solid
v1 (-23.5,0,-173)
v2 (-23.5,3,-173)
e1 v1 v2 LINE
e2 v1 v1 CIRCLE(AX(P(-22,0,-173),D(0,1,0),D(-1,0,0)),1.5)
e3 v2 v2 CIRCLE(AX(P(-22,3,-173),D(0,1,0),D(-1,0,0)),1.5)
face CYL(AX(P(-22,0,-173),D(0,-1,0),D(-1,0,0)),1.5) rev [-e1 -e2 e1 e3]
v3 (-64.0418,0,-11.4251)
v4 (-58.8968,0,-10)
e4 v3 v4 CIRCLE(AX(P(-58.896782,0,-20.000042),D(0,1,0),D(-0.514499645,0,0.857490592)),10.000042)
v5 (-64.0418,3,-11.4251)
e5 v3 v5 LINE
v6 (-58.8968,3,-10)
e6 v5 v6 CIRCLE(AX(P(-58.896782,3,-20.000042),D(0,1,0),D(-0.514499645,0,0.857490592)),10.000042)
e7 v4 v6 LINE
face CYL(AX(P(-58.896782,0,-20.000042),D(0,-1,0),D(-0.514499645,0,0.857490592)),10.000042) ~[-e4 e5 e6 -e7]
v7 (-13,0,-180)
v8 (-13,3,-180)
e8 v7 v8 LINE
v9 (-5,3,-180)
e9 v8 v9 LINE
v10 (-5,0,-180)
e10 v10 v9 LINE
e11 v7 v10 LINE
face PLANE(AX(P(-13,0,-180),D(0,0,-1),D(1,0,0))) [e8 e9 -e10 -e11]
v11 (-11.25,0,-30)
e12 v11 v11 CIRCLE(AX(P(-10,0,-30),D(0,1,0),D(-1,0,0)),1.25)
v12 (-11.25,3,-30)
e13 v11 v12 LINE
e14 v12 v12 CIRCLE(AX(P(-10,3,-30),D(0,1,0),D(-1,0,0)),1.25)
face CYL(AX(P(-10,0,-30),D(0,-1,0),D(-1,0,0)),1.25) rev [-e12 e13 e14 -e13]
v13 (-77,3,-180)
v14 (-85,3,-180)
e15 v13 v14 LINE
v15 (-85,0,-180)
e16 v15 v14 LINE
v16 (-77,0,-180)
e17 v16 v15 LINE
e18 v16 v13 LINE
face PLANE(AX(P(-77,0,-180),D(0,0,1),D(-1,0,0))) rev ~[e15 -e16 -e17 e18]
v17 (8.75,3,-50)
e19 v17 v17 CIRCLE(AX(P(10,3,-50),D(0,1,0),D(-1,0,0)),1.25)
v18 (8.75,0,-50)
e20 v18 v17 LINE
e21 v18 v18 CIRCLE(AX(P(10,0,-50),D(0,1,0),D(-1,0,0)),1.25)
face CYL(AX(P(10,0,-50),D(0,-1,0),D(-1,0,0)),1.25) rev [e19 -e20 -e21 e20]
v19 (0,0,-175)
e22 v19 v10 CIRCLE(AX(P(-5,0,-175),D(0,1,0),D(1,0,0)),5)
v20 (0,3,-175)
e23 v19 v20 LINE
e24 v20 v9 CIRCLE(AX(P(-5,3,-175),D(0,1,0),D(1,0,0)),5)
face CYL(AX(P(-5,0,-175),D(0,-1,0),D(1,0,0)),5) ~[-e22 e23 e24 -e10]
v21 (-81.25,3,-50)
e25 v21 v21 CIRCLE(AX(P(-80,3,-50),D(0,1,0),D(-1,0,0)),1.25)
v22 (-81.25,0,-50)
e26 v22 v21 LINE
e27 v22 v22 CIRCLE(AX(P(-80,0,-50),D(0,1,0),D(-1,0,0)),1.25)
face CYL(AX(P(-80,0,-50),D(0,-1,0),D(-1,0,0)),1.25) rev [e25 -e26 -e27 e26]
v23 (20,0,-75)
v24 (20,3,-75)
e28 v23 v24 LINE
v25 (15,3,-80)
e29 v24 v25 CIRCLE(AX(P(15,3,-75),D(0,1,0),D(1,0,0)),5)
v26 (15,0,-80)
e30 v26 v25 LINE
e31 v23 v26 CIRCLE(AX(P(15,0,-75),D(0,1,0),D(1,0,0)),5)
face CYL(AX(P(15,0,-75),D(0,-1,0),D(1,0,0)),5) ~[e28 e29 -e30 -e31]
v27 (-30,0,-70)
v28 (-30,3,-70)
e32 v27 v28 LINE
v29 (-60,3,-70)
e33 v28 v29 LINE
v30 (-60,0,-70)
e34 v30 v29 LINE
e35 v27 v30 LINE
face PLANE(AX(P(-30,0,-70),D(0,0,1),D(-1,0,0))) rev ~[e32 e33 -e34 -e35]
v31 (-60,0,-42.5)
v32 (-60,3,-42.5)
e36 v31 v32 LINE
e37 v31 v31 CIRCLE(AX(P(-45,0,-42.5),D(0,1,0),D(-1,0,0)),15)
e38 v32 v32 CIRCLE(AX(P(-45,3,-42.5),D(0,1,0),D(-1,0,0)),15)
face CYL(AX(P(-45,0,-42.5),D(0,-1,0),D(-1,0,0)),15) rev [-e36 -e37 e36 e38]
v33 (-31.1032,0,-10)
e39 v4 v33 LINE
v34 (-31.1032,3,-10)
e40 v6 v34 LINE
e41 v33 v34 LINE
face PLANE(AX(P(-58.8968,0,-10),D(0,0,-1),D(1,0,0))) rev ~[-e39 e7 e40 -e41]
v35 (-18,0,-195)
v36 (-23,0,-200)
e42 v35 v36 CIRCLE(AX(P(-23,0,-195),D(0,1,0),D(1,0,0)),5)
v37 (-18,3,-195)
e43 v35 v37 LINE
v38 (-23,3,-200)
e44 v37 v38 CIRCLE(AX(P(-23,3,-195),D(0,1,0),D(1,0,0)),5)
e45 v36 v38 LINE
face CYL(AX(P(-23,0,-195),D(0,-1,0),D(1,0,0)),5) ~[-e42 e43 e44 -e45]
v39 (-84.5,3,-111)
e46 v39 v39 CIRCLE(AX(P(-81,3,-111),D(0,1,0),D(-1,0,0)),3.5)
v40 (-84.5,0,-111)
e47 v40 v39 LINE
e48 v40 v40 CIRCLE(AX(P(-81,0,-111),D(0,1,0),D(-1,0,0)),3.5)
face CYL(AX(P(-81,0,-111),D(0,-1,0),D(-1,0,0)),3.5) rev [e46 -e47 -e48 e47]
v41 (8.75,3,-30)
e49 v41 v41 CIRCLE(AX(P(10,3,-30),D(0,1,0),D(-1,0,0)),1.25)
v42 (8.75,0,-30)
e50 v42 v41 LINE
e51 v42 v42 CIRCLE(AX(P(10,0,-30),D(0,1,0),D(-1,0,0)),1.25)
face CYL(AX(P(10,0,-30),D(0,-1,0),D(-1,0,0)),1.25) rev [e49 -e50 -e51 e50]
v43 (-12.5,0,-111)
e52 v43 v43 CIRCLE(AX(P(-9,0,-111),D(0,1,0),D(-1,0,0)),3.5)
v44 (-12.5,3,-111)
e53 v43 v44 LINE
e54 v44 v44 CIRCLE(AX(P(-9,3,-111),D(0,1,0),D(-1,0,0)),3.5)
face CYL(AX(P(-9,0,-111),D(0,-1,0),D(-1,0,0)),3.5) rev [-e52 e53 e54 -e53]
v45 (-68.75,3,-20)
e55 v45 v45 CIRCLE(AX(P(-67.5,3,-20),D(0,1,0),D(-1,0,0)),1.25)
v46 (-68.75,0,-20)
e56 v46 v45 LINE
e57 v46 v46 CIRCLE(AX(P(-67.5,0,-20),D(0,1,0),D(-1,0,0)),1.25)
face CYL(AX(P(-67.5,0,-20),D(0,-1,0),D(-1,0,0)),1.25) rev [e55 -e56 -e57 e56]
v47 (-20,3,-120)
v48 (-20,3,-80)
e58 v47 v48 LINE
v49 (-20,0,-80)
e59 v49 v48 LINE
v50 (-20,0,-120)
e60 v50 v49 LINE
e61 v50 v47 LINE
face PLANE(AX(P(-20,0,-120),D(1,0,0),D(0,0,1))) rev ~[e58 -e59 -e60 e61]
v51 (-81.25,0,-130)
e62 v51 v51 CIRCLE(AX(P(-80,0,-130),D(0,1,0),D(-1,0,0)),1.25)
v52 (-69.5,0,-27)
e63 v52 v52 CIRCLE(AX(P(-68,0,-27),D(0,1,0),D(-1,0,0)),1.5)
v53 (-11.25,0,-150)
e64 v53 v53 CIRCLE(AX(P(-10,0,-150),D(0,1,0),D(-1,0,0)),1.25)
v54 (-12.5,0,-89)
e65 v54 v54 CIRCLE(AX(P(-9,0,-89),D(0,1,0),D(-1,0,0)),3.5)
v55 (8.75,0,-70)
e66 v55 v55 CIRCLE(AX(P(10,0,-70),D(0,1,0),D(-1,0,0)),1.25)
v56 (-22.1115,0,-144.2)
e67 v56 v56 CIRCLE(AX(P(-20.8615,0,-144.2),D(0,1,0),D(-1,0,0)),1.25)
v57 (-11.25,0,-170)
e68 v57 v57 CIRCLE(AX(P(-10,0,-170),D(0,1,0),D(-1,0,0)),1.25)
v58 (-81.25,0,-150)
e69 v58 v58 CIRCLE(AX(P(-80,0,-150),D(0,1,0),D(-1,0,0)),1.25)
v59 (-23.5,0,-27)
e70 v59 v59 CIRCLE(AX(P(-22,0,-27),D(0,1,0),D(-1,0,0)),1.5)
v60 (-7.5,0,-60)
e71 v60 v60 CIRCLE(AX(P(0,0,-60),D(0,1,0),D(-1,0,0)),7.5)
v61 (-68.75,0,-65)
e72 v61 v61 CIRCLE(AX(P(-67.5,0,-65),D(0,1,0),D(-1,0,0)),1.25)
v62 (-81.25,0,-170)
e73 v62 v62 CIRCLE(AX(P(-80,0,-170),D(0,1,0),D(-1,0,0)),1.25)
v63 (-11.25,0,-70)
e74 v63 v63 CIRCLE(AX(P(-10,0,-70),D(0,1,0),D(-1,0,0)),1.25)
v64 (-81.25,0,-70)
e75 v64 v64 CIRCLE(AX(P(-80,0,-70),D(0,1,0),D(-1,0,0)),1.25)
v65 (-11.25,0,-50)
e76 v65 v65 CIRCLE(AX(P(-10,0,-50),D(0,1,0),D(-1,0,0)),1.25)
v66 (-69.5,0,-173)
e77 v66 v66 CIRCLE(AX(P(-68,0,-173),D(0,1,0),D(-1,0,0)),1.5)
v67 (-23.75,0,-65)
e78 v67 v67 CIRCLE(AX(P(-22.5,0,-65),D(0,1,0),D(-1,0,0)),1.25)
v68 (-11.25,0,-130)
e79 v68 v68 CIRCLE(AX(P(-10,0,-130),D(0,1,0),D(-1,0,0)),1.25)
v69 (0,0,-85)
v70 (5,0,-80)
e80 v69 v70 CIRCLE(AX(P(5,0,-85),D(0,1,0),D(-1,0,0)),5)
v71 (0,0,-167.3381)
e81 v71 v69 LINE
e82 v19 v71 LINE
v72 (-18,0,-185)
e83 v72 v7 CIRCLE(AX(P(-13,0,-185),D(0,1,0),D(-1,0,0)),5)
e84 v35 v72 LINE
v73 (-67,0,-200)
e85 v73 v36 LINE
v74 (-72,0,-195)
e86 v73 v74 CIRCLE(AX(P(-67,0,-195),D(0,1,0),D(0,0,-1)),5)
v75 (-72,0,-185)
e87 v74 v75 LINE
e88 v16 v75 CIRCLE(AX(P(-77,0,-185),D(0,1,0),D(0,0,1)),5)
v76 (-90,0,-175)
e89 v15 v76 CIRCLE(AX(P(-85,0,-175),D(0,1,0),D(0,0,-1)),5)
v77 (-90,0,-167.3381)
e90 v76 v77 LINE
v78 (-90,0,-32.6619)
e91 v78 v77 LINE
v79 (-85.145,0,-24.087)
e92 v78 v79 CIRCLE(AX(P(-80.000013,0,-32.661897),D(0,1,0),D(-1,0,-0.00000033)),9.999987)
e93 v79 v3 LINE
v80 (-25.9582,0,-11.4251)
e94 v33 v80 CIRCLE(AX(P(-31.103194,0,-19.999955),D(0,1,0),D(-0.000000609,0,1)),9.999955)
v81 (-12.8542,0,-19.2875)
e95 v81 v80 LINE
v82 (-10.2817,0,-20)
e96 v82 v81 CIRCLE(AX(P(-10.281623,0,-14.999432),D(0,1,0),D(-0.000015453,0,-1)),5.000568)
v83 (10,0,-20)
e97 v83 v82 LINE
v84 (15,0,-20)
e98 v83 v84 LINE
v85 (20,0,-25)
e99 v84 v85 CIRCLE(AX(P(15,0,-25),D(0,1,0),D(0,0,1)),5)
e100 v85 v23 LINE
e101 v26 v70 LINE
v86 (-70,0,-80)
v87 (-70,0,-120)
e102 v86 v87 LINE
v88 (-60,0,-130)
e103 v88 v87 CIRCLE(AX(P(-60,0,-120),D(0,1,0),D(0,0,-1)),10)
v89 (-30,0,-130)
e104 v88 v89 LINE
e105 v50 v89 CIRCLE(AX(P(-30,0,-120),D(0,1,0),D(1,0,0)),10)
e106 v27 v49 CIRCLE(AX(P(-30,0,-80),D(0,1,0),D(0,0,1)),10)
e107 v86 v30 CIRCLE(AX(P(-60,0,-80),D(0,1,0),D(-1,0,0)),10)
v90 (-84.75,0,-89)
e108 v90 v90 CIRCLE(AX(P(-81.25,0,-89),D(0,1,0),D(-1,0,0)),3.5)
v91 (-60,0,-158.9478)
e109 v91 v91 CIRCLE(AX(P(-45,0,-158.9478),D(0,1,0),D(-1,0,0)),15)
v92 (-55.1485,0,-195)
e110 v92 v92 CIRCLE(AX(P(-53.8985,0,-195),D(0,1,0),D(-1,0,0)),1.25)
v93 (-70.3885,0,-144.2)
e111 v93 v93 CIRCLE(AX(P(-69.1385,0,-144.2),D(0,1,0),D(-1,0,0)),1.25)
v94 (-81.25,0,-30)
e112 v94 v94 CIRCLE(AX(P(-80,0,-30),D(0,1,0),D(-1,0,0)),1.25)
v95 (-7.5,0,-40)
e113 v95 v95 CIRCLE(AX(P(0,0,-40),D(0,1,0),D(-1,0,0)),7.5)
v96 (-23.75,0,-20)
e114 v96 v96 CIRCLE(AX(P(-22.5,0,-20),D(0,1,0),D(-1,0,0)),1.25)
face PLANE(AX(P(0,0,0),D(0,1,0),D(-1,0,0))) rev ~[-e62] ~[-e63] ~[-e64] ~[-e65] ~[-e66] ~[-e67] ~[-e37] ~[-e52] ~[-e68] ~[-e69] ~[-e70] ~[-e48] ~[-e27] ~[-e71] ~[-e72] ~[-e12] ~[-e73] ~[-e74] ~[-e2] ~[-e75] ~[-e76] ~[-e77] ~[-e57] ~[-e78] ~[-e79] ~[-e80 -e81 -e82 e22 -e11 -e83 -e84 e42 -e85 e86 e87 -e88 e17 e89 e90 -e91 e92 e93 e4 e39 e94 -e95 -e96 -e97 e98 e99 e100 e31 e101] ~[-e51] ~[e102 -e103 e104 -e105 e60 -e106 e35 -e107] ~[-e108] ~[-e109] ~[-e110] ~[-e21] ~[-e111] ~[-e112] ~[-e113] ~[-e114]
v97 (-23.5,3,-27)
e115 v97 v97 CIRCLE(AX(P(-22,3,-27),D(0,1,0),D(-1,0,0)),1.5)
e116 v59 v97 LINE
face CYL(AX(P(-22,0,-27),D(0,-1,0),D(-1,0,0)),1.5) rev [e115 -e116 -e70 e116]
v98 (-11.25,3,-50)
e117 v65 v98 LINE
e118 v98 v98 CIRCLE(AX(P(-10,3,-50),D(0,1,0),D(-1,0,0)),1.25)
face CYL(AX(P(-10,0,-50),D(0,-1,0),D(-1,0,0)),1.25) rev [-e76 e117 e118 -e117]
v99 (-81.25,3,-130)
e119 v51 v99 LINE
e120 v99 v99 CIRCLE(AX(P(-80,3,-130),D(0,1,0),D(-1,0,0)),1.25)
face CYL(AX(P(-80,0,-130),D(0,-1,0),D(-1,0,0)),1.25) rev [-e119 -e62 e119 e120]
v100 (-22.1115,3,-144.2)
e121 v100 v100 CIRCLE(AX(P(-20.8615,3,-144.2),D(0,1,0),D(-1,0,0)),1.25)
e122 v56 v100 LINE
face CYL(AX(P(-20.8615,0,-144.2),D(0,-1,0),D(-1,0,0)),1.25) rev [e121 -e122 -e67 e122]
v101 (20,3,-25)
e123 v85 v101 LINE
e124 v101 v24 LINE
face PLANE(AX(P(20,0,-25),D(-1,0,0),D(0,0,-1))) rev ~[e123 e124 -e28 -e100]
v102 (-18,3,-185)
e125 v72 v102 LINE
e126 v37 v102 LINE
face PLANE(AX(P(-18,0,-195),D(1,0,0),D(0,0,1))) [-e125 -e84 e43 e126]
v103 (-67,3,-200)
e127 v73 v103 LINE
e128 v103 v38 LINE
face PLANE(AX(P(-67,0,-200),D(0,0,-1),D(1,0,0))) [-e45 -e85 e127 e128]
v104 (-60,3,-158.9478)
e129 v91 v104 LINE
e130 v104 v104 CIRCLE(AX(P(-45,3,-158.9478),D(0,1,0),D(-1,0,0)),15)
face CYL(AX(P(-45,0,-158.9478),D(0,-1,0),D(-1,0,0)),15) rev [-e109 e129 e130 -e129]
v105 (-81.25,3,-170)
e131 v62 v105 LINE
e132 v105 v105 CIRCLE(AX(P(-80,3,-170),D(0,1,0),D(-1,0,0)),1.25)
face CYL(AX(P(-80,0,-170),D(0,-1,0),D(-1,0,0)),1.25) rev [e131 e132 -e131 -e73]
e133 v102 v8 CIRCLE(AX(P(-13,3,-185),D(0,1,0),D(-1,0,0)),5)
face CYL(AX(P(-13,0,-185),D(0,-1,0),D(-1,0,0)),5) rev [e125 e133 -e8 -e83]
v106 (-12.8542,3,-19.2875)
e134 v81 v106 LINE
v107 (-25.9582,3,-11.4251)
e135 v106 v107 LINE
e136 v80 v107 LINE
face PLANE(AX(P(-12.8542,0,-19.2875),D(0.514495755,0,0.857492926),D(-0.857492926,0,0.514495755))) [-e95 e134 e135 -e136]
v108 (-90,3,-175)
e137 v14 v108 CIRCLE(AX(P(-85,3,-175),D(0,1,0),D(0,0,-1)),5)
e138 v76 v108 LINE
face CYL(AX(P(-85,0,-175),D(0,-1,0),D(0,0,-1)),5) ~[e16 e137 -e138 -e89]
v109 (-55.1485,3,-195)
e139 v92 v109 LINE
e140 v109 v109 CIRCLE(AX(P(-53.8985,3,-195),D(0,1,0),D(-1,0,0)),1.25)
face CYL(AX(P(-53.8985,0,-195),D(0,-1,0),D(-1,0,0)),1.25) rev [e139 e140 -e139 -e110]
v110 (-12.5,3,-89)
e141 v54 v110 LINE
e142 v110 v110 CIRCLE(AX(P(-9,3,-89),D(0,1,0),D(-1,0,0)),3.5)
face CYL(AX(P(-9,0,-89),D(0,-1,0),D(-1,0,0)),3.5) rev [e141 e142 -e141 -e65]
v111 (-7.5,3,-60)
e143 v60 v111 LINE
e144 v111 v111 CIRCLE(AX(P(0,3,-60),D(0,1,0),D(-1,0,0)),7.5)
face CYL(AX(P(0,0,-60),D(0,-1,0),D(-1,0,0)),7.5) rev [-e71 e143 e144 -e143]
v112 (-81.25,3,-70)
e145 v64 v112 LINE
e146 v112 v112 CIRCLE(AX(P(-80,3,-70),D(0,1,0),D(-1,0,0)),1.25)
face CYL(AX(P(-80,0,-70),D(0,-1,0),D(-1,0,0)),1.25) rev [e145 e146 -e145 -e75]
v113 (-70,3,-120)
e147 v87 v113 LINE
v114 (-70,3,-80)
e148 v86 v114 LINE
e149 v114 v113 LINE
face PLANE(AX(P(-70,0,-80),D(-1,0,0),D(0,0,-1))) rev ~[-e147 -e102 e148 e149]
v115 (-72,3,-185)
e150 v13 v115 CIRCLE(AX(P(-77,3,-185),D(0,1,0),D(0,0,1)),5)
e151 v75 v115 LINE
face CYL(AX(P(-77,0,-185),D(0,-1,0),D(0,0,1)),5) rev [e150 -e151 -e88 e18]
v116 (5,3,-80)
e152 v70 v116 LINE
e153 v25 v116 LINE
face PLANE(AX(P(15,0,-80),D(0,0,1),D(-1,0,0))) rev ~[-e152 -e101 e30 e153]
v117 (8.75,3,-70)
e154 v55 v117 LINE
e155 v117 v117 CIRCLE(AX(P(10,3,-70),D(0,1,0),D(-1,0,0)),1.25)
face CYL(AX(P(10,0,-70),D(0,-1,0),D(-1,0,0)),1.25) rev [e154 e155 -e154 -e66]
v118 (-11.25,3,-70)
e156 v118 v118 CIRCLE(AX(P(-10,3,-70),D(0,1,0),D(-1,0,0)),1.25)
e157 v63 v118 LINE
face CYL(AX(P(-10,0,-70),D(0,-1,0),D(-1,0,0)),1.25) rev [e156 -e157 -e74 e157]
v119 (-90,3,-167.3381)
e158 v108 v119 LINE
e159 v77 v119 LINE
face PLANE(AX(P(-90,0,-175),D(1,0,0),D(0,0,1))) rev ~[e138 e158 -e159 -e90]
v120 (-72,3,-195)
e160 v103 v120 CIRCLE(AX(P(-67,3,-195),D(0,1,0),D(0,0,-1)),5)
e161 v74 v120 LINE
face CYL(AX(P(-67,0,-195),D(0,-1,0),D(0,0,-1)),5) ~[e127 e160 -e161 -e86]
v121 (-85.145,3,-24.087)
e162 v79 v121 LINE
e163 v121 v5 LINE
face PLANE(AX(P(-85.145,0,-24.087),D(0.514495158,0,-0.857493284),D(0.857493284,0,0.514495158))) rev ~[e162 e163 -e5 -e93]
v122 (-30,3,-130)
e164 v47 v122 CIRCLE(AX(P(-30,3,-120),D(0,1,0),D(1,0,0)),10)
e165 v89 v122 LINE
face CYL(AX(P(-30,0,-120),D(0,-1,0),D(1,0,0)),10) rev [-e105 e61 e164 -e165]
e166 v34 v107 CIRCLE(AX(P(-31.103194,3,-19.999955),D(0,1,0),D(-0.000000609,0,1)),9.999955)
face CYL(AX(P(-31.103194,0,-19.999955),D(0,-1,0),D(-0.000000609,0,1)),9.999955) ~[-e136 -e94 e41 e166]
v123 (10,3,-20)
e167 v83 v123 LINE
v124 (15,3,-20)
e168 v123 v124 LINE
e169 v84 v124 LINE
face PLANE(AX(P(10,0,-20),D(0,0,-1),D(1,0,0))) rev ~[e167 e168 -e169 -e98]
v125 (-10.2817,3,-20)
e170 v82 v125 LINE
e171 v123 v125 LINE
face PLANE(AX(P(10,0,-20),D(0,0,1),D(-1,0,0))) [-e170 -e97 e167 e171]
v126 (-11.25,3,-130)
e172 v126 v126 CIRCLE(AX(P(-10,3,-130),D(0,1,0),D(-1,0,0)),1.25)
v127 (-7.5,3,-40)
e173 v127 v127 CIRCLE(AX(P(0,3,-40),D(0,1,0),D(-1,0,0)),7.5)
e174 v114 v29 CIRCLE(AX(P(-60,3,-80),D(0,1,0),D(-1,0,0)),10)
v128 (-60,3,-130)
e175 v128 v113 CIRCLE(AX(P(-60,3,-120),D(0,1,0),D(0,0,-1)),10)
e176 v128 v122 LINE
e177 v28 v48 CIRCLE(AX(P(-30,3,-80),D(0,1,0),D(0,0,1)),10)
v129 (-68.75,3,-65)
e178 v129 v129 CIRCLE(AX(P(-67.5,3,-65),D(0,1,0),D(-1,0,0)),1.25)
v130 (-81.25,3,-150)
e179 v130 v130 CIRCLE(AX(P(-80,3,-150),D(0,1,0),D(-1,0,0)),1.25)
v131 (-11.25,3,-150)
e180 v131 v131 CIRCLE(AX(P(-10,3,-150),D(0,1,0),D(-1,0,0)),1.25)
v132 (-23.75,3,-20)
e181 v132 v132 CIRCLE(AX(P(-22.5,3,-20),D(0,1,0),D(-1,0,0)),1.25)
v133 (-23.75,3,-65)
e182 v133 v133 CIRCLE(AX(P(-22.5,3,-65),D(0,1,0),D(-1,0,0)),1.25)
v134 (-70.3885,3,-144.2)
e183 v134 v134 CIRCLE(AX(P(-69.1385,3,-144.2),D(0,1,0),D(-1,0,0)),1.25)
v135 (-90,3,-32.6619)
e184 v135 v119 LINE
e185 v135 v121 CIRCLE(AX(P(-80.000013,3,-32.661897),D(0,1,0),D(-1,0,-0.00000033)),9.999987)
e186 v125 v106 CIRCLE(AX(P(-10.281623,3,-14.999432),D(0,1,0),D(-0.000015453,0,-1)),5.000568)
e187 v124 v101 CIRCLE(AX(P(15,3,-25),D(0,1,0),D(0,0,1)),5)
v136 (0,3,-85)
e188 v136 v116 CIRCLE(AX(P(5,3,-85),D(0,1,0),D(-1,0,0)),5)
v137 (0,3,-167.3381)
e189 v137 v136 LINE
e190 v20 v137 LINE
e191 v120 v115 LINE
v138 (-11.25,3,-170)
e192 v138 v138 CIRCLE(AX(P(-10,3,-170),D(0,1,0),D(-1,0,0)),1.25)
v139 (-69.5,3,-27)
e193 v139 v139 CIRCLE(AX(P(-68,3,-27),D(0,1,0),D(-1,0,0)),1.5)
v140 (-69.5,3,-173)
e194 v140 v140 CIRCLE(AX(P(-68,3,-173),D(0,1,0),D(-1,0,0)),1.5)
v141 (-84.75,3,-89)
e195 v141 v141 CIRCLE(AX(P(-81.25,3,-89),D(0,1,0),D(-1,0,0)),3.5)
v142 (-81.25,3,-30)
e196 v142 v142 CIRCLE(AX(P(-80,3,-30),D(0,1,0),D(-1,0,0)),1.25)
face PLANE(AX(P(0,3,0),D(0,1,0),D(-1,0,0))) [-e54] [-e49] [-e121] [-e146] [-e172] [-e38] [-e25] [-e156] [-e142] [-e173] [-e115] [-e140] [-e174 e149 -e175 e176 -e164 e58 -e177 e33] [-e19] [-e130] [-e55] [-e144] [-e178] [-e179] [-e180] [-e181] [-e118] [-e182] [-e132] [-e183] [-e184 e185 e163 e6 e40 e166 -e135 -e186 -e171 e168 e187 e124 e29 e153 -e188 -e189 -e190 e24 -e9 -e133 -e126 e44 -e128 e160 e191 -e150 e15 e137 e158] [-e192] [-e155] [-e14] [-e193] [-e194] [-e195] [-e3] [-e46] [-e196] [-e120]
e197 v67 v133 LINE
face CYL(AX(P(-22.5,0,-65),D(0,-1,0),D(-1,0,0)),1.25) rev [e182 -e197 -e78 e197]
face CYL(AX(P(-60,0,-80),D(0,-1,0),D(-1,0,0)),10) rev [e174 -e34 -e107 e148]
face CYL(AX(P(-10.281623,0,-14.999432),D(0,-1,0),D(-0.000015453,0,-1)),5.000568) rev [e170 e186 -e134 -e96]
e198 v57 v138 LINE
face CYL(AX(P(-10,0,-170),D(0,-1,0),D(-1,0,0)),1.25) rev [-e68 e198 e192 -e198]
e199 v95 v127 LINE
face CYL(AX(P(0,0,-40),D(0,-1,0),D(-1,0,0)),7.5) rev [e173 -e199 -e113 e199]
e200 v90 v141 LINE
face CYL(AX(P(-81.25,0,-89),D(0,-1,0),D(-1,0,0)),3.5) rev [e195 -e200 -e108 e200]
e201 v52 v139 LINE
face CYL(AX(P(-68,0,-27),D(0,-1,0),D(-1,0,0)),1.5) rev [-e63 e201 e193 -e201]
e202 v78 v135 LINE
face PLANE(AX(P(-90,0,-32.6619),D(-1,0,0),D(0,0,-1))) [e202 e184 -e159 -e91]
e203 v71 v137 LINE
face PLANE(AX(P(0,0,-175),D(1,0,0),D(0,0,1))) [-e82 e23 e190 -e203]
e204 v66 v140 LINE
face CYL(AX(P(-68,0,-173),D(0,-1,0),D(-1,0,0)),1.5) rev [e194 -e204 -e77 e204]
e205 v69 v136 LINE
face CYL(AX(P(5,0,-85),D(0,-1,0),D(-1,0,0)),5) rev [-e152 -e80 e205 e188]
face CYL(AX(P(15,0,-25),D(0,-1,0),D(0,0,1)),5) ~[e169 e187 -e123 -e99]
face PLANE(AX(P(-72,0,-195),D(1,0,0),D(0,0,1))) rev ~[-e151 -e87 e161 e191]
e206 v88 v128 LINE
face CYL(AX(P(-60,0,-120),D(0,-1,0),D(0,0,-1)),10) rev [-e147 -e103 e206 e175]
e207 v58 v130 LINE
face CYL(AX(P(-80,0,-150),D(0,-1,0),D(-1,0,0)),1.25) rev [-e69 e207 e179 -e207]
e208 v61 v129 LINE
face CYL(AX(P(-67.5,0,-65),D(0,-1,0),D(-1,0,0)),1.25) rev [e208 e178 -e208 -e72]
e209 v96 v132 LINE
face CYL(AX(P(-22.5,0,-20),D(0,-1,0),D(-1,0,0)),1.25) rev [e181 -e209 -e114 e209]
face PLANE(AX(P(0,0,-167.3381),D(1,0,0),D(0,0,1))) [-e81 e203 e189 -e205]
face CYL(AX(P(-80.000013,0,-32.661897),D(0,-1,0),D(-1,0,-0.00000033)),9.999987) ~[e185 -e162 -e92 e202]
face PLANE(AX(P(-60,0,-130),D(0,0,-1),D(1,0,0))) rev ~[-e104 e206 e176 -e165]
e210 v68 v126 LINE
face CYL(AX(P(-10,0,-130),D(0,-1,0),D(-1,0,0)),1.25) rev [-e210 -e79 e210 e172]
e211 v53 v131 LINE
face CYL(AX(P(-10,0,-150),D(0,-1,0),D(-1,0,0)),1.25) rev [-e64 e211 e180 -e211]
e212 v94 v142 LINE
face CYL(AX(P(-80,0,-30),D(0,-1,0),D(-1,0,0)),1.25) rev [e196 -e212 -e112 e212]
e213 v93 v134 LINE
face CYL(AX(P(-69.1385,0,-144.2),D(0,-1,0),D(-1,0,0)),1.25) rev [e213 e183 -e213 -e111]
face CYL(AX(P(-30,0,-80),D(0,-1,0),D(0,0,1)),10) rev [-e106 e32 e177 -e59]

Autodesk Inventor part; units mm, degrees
ref_plane "YZ Plane" through (0, 0, 0) normal (1, 0, 0) x (0, 1, 0)
ref_plane "XZ Plane" through (0, 0, 0) normal (0, 1, 0) x (-1, 0, 0)
ref_plane "XY Plane" through (0, 0, 0) normal (0, 0, 1) x (1, 0, 0)
sketch "Sketch1" plane through (0, 0, 0) normal (0, 1, 0) x (-1, 0, 0)
  line L0 (10, 0) -> (80, 0)
  line L1 (90, -32.6619) -> (90, -167.3381)
  line L2 (67, -200) -> (23, -200)
  line L3 (0, -167.3381) -> (0, -85)
  line L4 (22, -27) -> (68, -27) construction
  line L5 (68, -27) -> (68, -173) construction
  line L6 (68, -173) -> (22, -173) construction
  circle A0 centre (68, -27) radius 1.5
  circle A1 centre (68, -173) radius 1.5
  circle A2 centre (22, -173) radius 1.5
  circle A3 centre (22, -27) radius 1.5
  line L7 (30, -70) -> (60, -70)
  line L8 (70, -80) -> (70, -120)
  line L9 (60, -130) -> (30, -130)
  line L10 (20, -120) -> (20, -80)
  arc A4 (70, -80) -> (60, -70) centre (60, -80) ccw
  arc A5 (60, -130) -> (70, -120) centre (60, -120) ccw
  arc A6 (20, -120) -> (30, -130) centre (30, -120) ccw
  arc A7 (30, -70) -> (20, -80) centre (30, -80) ccw
  arc A8 (90, -10) -> (80, 0) centre (80, -10) ccw
  arc A9 (0, -190) -> (10, -200) centre (10, -190) ccw
  arc A10 (80, -200) -> (90, -190) centre (80, -190) ccw
  arc A11 (10, 0) -> (0, -10) centre (10, -10) ccw
  circle A12 centre (80, -10) radius 1.25
  circle A13 centre (80, -30) radius 1.25
  circle A14 centre (80, -50) radius 1.25
  circle A15 centre (80, -70) radius 1.25
  circle A16 centre (80, -90) radius 1.25
  circle A17 centre (80, -110) radius 1.25
  circle A18 centre (80, -130) radius 1.25
  circle A19 centre (80, -150) radius 1.25
  circle A20 centre (80, -170) radius 1.25
  circle A21 centre (80, -190) radius 1.25
  circle A22 centre (10, -10) radius 1.25
  circle A23 centre (10, -30) radius 1.25
  circle A24 centre (10, -50) radius 1.25
  circle A25 centre (10, -70) radius 1.25
  circle A26 centre (10, -90) radius 1.25
  circle A27 centre (10, -110) radius 1.25
  circle A28 centre (10, -130) radius 1.25
  circle A29 centre (10, -150) radius 1.25
  circle A30 centre (10, -170) radius 1.25
  circle A31 centre (10, -190) radius 1.25
  circle A32 centre (81, -111) radius 3.5
  circle A33 centre (81.25, -89) radius 3.5
  circle A34 centre (9, -111) radius 3.5
  circle A35 centre (9, -89) radius 3.5
  line L11 (85.145, -24.087) -> (64.0418, -11.4251)
  line L12 (12.8542, -19.2875) -> (25.9582, -11.4251)
  arc A36 (90, -32.6619) -> (85.145, -24.087) centre (80, -32.6619) ccw
  arc A37 (4.855, -24.087) -> (0, -32.6619) centre (10, -32.6619) ccw construction
  circle A38 centre (67.5, -65) radius 1.25
  circle A39 centre (22.5, -65) radius 1.25
  line L13 (-15, -70) -> (15, -70) construction
  circle A40 centre (67.5, -20) radius 1.25
  line L14 (30, -25) -> (60, -25) construction
  circle A41 centre (22.5, -20) radius 1.25
  line L15 (-15, -25) -> (15, -25) construction
  line L16 (58.8968, -10) -> (31.1032, -10)
  arc A42 (64.0418, -11.4251) -> (58.8968, -10) centre (58.8968, -20) ccw
  arc A43 (31.1032, -10) -> (25.9582, -11.4251) centre (31.1032, -20) ccw
  line L17 (90, -200) -> (72, -200) construction
  line L18 (72, -195) -> (72, -185)
  line L19 (77, -180) -> (85, -180)
  line L20 (90, -175) -> (90, -167.3381)
  line L21 (0, -200) -> (18, -200) construction
  line L22 (18, -195) -> (18, -185)
  line L23 (13, -180) -> (5, -180)
  line L24 (0, -175) -> (0, -167.3381)
  arc A44 (77, -180) -> (72, -185) centre (77, -185) ccw
  arc A45 (85, -180) -> (90, -175) centre (85, -175) ccw
  arc A46 (0, -175) -> (5, -180) centre (5, -175) ccw
  arc A47 (18, -185) -> (13, -180) centre (13, -185) ccw
  arc A48 (67, -200) -> (72, -195) centre (67, -195) ccw
  arc A49 (18, -195) -> (23, -200) centre (23, -195) ccw
  circle A50 centre (69.1385, -144.2) radius 1.25
  circle A51 centre (20.8615, -144.2) radius 1.25
  circle A52 centre (53.8985, -195) radius 1.25
  line L25 (10, -30) -> (-10, -30) construction
  line L26 (-10, -30) -> (-10, -50) construction
  circle A53 centre (-10, -50) radius 1.25
  circle A54 centre (-10, -30) radius 1.25
  line L27 (-10, -30) -> (-10, -20) construction
  line L28 (-10, -20) -> (10.2817, -20)
  line L29 (-10, -20) -> (-15, -20)
  line L30 (-20, -25) -> (-20, -75)
  line L31 (-15, -80) -> (-5, -80)
  arc A55 (0, -85) -> (-5, -80) centre (-5, -85) ccw
  arc A56 (10.2817, -20) -> (12.8542, -19.2875) centre (10.2817, -15) ccw
  arc A57 (-15, -20) -> (-20, -25) centre (-15, -25) ccw
  arc A58 (-20, -75) -> (-15, -80) centre (-15, -75) ccw
  circle A59 centre (-10, -70) radius 1.25
  line L32 (10, -70) -> (-10, -50) construction
  line L33 (-10, -50) -> (10, -30) construction
  circle A60 centre (0, -60) radius 7.5
  circle A61 centre (0, -40) radius 7.5
  line L34 (67.5, -65) -> (22.5, -20) construction
  circle A62 centre (45, -42.5) radius 15
  line L35 (69.1385, -144.2) -> (22, -173) construction
  circle A63 centre (45, -158.9478) radius 15
  point P0 (0, 0)
  point P1 (90, 0)
  point P2 (70, -130)
  point P3 (70, -70)
  point P4 (20, -130)
  point P5 (45, 0)
  point P6 (45, -200)
  point P7 (25, -70)
  point P8 (70, -25)
  point P9 (25, -25)
  point P10 (72, -180)
  point P11 (-20, -20)
  point P12 (-20, -80)
  dimension "d0" = 90
  dimension "d1" = 200
  dimension "d2" = 46
  dimension "d4" = 22
  dimension "d5" = 27
  dimension "d6" = 3
  dimension "d7" = 3
  dimension "d8" = 3
  dimension "d9" = 3
  dimension "d10" = 50
  dimension "d11" = 60
  dimension "d12" = 20
  dimension "d13" = 70
  dimension "d14" = 10
  dimension "d15" = 10
  dimension "d16" = 2.5
  dimension "d19" = 20
  dimension "d24" = 2.5
  dimension "d27" = 20
  dimension "d34" = 7
  dimension "d35" = 7
  dimension "d36" = 7
  dimension "d37" = 7
  dimension "d38" = 72
  dimension "d39" = 22
  dimension "d40" = 9
  dimension "d41" = 89
  dimension "d42" = 22
  dimension "d43" = 72
  dimension "d46" = 10
  dimension "d48" = 2.5
  dimension "d51" = 45
  dimension "d54" = 45
  dimension "d57" = 22.5
  dimension "d58" = 5
  dimension "d59" = 10
  dimension "d71" = 18
  dimension "d72" = 20
  dimension "d73" = 18
  dimension "d74" = 5
  dimension "d75" = 5
  dimension "d76" = 2.5
  dimension "d77" = 2.5
  dimension "d78" = 0
  dimension "d79" = 48.277
  dimension "d81" = 20.8615
  dimension "d82" = 2.5
  dimension "d83" = 15.24
  dimension "d84" = 50.8
  dimension "d85" = 5
  dimension "d86" = 20
  dimension "d87" = 20
  dimension "d88" = 2.5
  dimension "d89" = 2.5
  dimension "d90" = 10
  dimension "d91" = 10
  dimension "d92" = 60
  dimension "d93" = 5
  dimension "d94" = 2.5
  dimension "d95" = 15
  dimension "d97" = 30
  dimension "d98" = 30
extrude "Extrusion2" add sketch "Sketch1" along normal blind 3 contours L1 L20 A45 L19 A44 L18 A48 L2 A49 L22 A47 L23 A46 L24 L3 A55 L31 A58 L30 A57 L29 L28 A56 L12 A43 L16 A42 L11 A36
equation "\"d4\" = -0.5 * d2 + 0.5 * d0"
equation "\"d5\" = -0.5 * d3 + 0.5 * d1"
equation "\"d12\" = -0.5 * d10 + 0.5 * d0"
equation "\"d13\" = -0.5 * d11 + 0.5 * d1"
equation "\"d40\" = -0.5 * d38 + 0.5 * d0"
equation "\"d41\" = -0.5 * d39 + 0.5 * d1"
equation "\"d57\" = -0.5 * d51 + 0.5 * d0"
equation "\"d81\" = -0.5 * d79 + 0.5 * d0"
equation "\"d3\" = 146"
properties part number "ElectronicsBaseplateV01" material "Polycarbonate, Clear"
